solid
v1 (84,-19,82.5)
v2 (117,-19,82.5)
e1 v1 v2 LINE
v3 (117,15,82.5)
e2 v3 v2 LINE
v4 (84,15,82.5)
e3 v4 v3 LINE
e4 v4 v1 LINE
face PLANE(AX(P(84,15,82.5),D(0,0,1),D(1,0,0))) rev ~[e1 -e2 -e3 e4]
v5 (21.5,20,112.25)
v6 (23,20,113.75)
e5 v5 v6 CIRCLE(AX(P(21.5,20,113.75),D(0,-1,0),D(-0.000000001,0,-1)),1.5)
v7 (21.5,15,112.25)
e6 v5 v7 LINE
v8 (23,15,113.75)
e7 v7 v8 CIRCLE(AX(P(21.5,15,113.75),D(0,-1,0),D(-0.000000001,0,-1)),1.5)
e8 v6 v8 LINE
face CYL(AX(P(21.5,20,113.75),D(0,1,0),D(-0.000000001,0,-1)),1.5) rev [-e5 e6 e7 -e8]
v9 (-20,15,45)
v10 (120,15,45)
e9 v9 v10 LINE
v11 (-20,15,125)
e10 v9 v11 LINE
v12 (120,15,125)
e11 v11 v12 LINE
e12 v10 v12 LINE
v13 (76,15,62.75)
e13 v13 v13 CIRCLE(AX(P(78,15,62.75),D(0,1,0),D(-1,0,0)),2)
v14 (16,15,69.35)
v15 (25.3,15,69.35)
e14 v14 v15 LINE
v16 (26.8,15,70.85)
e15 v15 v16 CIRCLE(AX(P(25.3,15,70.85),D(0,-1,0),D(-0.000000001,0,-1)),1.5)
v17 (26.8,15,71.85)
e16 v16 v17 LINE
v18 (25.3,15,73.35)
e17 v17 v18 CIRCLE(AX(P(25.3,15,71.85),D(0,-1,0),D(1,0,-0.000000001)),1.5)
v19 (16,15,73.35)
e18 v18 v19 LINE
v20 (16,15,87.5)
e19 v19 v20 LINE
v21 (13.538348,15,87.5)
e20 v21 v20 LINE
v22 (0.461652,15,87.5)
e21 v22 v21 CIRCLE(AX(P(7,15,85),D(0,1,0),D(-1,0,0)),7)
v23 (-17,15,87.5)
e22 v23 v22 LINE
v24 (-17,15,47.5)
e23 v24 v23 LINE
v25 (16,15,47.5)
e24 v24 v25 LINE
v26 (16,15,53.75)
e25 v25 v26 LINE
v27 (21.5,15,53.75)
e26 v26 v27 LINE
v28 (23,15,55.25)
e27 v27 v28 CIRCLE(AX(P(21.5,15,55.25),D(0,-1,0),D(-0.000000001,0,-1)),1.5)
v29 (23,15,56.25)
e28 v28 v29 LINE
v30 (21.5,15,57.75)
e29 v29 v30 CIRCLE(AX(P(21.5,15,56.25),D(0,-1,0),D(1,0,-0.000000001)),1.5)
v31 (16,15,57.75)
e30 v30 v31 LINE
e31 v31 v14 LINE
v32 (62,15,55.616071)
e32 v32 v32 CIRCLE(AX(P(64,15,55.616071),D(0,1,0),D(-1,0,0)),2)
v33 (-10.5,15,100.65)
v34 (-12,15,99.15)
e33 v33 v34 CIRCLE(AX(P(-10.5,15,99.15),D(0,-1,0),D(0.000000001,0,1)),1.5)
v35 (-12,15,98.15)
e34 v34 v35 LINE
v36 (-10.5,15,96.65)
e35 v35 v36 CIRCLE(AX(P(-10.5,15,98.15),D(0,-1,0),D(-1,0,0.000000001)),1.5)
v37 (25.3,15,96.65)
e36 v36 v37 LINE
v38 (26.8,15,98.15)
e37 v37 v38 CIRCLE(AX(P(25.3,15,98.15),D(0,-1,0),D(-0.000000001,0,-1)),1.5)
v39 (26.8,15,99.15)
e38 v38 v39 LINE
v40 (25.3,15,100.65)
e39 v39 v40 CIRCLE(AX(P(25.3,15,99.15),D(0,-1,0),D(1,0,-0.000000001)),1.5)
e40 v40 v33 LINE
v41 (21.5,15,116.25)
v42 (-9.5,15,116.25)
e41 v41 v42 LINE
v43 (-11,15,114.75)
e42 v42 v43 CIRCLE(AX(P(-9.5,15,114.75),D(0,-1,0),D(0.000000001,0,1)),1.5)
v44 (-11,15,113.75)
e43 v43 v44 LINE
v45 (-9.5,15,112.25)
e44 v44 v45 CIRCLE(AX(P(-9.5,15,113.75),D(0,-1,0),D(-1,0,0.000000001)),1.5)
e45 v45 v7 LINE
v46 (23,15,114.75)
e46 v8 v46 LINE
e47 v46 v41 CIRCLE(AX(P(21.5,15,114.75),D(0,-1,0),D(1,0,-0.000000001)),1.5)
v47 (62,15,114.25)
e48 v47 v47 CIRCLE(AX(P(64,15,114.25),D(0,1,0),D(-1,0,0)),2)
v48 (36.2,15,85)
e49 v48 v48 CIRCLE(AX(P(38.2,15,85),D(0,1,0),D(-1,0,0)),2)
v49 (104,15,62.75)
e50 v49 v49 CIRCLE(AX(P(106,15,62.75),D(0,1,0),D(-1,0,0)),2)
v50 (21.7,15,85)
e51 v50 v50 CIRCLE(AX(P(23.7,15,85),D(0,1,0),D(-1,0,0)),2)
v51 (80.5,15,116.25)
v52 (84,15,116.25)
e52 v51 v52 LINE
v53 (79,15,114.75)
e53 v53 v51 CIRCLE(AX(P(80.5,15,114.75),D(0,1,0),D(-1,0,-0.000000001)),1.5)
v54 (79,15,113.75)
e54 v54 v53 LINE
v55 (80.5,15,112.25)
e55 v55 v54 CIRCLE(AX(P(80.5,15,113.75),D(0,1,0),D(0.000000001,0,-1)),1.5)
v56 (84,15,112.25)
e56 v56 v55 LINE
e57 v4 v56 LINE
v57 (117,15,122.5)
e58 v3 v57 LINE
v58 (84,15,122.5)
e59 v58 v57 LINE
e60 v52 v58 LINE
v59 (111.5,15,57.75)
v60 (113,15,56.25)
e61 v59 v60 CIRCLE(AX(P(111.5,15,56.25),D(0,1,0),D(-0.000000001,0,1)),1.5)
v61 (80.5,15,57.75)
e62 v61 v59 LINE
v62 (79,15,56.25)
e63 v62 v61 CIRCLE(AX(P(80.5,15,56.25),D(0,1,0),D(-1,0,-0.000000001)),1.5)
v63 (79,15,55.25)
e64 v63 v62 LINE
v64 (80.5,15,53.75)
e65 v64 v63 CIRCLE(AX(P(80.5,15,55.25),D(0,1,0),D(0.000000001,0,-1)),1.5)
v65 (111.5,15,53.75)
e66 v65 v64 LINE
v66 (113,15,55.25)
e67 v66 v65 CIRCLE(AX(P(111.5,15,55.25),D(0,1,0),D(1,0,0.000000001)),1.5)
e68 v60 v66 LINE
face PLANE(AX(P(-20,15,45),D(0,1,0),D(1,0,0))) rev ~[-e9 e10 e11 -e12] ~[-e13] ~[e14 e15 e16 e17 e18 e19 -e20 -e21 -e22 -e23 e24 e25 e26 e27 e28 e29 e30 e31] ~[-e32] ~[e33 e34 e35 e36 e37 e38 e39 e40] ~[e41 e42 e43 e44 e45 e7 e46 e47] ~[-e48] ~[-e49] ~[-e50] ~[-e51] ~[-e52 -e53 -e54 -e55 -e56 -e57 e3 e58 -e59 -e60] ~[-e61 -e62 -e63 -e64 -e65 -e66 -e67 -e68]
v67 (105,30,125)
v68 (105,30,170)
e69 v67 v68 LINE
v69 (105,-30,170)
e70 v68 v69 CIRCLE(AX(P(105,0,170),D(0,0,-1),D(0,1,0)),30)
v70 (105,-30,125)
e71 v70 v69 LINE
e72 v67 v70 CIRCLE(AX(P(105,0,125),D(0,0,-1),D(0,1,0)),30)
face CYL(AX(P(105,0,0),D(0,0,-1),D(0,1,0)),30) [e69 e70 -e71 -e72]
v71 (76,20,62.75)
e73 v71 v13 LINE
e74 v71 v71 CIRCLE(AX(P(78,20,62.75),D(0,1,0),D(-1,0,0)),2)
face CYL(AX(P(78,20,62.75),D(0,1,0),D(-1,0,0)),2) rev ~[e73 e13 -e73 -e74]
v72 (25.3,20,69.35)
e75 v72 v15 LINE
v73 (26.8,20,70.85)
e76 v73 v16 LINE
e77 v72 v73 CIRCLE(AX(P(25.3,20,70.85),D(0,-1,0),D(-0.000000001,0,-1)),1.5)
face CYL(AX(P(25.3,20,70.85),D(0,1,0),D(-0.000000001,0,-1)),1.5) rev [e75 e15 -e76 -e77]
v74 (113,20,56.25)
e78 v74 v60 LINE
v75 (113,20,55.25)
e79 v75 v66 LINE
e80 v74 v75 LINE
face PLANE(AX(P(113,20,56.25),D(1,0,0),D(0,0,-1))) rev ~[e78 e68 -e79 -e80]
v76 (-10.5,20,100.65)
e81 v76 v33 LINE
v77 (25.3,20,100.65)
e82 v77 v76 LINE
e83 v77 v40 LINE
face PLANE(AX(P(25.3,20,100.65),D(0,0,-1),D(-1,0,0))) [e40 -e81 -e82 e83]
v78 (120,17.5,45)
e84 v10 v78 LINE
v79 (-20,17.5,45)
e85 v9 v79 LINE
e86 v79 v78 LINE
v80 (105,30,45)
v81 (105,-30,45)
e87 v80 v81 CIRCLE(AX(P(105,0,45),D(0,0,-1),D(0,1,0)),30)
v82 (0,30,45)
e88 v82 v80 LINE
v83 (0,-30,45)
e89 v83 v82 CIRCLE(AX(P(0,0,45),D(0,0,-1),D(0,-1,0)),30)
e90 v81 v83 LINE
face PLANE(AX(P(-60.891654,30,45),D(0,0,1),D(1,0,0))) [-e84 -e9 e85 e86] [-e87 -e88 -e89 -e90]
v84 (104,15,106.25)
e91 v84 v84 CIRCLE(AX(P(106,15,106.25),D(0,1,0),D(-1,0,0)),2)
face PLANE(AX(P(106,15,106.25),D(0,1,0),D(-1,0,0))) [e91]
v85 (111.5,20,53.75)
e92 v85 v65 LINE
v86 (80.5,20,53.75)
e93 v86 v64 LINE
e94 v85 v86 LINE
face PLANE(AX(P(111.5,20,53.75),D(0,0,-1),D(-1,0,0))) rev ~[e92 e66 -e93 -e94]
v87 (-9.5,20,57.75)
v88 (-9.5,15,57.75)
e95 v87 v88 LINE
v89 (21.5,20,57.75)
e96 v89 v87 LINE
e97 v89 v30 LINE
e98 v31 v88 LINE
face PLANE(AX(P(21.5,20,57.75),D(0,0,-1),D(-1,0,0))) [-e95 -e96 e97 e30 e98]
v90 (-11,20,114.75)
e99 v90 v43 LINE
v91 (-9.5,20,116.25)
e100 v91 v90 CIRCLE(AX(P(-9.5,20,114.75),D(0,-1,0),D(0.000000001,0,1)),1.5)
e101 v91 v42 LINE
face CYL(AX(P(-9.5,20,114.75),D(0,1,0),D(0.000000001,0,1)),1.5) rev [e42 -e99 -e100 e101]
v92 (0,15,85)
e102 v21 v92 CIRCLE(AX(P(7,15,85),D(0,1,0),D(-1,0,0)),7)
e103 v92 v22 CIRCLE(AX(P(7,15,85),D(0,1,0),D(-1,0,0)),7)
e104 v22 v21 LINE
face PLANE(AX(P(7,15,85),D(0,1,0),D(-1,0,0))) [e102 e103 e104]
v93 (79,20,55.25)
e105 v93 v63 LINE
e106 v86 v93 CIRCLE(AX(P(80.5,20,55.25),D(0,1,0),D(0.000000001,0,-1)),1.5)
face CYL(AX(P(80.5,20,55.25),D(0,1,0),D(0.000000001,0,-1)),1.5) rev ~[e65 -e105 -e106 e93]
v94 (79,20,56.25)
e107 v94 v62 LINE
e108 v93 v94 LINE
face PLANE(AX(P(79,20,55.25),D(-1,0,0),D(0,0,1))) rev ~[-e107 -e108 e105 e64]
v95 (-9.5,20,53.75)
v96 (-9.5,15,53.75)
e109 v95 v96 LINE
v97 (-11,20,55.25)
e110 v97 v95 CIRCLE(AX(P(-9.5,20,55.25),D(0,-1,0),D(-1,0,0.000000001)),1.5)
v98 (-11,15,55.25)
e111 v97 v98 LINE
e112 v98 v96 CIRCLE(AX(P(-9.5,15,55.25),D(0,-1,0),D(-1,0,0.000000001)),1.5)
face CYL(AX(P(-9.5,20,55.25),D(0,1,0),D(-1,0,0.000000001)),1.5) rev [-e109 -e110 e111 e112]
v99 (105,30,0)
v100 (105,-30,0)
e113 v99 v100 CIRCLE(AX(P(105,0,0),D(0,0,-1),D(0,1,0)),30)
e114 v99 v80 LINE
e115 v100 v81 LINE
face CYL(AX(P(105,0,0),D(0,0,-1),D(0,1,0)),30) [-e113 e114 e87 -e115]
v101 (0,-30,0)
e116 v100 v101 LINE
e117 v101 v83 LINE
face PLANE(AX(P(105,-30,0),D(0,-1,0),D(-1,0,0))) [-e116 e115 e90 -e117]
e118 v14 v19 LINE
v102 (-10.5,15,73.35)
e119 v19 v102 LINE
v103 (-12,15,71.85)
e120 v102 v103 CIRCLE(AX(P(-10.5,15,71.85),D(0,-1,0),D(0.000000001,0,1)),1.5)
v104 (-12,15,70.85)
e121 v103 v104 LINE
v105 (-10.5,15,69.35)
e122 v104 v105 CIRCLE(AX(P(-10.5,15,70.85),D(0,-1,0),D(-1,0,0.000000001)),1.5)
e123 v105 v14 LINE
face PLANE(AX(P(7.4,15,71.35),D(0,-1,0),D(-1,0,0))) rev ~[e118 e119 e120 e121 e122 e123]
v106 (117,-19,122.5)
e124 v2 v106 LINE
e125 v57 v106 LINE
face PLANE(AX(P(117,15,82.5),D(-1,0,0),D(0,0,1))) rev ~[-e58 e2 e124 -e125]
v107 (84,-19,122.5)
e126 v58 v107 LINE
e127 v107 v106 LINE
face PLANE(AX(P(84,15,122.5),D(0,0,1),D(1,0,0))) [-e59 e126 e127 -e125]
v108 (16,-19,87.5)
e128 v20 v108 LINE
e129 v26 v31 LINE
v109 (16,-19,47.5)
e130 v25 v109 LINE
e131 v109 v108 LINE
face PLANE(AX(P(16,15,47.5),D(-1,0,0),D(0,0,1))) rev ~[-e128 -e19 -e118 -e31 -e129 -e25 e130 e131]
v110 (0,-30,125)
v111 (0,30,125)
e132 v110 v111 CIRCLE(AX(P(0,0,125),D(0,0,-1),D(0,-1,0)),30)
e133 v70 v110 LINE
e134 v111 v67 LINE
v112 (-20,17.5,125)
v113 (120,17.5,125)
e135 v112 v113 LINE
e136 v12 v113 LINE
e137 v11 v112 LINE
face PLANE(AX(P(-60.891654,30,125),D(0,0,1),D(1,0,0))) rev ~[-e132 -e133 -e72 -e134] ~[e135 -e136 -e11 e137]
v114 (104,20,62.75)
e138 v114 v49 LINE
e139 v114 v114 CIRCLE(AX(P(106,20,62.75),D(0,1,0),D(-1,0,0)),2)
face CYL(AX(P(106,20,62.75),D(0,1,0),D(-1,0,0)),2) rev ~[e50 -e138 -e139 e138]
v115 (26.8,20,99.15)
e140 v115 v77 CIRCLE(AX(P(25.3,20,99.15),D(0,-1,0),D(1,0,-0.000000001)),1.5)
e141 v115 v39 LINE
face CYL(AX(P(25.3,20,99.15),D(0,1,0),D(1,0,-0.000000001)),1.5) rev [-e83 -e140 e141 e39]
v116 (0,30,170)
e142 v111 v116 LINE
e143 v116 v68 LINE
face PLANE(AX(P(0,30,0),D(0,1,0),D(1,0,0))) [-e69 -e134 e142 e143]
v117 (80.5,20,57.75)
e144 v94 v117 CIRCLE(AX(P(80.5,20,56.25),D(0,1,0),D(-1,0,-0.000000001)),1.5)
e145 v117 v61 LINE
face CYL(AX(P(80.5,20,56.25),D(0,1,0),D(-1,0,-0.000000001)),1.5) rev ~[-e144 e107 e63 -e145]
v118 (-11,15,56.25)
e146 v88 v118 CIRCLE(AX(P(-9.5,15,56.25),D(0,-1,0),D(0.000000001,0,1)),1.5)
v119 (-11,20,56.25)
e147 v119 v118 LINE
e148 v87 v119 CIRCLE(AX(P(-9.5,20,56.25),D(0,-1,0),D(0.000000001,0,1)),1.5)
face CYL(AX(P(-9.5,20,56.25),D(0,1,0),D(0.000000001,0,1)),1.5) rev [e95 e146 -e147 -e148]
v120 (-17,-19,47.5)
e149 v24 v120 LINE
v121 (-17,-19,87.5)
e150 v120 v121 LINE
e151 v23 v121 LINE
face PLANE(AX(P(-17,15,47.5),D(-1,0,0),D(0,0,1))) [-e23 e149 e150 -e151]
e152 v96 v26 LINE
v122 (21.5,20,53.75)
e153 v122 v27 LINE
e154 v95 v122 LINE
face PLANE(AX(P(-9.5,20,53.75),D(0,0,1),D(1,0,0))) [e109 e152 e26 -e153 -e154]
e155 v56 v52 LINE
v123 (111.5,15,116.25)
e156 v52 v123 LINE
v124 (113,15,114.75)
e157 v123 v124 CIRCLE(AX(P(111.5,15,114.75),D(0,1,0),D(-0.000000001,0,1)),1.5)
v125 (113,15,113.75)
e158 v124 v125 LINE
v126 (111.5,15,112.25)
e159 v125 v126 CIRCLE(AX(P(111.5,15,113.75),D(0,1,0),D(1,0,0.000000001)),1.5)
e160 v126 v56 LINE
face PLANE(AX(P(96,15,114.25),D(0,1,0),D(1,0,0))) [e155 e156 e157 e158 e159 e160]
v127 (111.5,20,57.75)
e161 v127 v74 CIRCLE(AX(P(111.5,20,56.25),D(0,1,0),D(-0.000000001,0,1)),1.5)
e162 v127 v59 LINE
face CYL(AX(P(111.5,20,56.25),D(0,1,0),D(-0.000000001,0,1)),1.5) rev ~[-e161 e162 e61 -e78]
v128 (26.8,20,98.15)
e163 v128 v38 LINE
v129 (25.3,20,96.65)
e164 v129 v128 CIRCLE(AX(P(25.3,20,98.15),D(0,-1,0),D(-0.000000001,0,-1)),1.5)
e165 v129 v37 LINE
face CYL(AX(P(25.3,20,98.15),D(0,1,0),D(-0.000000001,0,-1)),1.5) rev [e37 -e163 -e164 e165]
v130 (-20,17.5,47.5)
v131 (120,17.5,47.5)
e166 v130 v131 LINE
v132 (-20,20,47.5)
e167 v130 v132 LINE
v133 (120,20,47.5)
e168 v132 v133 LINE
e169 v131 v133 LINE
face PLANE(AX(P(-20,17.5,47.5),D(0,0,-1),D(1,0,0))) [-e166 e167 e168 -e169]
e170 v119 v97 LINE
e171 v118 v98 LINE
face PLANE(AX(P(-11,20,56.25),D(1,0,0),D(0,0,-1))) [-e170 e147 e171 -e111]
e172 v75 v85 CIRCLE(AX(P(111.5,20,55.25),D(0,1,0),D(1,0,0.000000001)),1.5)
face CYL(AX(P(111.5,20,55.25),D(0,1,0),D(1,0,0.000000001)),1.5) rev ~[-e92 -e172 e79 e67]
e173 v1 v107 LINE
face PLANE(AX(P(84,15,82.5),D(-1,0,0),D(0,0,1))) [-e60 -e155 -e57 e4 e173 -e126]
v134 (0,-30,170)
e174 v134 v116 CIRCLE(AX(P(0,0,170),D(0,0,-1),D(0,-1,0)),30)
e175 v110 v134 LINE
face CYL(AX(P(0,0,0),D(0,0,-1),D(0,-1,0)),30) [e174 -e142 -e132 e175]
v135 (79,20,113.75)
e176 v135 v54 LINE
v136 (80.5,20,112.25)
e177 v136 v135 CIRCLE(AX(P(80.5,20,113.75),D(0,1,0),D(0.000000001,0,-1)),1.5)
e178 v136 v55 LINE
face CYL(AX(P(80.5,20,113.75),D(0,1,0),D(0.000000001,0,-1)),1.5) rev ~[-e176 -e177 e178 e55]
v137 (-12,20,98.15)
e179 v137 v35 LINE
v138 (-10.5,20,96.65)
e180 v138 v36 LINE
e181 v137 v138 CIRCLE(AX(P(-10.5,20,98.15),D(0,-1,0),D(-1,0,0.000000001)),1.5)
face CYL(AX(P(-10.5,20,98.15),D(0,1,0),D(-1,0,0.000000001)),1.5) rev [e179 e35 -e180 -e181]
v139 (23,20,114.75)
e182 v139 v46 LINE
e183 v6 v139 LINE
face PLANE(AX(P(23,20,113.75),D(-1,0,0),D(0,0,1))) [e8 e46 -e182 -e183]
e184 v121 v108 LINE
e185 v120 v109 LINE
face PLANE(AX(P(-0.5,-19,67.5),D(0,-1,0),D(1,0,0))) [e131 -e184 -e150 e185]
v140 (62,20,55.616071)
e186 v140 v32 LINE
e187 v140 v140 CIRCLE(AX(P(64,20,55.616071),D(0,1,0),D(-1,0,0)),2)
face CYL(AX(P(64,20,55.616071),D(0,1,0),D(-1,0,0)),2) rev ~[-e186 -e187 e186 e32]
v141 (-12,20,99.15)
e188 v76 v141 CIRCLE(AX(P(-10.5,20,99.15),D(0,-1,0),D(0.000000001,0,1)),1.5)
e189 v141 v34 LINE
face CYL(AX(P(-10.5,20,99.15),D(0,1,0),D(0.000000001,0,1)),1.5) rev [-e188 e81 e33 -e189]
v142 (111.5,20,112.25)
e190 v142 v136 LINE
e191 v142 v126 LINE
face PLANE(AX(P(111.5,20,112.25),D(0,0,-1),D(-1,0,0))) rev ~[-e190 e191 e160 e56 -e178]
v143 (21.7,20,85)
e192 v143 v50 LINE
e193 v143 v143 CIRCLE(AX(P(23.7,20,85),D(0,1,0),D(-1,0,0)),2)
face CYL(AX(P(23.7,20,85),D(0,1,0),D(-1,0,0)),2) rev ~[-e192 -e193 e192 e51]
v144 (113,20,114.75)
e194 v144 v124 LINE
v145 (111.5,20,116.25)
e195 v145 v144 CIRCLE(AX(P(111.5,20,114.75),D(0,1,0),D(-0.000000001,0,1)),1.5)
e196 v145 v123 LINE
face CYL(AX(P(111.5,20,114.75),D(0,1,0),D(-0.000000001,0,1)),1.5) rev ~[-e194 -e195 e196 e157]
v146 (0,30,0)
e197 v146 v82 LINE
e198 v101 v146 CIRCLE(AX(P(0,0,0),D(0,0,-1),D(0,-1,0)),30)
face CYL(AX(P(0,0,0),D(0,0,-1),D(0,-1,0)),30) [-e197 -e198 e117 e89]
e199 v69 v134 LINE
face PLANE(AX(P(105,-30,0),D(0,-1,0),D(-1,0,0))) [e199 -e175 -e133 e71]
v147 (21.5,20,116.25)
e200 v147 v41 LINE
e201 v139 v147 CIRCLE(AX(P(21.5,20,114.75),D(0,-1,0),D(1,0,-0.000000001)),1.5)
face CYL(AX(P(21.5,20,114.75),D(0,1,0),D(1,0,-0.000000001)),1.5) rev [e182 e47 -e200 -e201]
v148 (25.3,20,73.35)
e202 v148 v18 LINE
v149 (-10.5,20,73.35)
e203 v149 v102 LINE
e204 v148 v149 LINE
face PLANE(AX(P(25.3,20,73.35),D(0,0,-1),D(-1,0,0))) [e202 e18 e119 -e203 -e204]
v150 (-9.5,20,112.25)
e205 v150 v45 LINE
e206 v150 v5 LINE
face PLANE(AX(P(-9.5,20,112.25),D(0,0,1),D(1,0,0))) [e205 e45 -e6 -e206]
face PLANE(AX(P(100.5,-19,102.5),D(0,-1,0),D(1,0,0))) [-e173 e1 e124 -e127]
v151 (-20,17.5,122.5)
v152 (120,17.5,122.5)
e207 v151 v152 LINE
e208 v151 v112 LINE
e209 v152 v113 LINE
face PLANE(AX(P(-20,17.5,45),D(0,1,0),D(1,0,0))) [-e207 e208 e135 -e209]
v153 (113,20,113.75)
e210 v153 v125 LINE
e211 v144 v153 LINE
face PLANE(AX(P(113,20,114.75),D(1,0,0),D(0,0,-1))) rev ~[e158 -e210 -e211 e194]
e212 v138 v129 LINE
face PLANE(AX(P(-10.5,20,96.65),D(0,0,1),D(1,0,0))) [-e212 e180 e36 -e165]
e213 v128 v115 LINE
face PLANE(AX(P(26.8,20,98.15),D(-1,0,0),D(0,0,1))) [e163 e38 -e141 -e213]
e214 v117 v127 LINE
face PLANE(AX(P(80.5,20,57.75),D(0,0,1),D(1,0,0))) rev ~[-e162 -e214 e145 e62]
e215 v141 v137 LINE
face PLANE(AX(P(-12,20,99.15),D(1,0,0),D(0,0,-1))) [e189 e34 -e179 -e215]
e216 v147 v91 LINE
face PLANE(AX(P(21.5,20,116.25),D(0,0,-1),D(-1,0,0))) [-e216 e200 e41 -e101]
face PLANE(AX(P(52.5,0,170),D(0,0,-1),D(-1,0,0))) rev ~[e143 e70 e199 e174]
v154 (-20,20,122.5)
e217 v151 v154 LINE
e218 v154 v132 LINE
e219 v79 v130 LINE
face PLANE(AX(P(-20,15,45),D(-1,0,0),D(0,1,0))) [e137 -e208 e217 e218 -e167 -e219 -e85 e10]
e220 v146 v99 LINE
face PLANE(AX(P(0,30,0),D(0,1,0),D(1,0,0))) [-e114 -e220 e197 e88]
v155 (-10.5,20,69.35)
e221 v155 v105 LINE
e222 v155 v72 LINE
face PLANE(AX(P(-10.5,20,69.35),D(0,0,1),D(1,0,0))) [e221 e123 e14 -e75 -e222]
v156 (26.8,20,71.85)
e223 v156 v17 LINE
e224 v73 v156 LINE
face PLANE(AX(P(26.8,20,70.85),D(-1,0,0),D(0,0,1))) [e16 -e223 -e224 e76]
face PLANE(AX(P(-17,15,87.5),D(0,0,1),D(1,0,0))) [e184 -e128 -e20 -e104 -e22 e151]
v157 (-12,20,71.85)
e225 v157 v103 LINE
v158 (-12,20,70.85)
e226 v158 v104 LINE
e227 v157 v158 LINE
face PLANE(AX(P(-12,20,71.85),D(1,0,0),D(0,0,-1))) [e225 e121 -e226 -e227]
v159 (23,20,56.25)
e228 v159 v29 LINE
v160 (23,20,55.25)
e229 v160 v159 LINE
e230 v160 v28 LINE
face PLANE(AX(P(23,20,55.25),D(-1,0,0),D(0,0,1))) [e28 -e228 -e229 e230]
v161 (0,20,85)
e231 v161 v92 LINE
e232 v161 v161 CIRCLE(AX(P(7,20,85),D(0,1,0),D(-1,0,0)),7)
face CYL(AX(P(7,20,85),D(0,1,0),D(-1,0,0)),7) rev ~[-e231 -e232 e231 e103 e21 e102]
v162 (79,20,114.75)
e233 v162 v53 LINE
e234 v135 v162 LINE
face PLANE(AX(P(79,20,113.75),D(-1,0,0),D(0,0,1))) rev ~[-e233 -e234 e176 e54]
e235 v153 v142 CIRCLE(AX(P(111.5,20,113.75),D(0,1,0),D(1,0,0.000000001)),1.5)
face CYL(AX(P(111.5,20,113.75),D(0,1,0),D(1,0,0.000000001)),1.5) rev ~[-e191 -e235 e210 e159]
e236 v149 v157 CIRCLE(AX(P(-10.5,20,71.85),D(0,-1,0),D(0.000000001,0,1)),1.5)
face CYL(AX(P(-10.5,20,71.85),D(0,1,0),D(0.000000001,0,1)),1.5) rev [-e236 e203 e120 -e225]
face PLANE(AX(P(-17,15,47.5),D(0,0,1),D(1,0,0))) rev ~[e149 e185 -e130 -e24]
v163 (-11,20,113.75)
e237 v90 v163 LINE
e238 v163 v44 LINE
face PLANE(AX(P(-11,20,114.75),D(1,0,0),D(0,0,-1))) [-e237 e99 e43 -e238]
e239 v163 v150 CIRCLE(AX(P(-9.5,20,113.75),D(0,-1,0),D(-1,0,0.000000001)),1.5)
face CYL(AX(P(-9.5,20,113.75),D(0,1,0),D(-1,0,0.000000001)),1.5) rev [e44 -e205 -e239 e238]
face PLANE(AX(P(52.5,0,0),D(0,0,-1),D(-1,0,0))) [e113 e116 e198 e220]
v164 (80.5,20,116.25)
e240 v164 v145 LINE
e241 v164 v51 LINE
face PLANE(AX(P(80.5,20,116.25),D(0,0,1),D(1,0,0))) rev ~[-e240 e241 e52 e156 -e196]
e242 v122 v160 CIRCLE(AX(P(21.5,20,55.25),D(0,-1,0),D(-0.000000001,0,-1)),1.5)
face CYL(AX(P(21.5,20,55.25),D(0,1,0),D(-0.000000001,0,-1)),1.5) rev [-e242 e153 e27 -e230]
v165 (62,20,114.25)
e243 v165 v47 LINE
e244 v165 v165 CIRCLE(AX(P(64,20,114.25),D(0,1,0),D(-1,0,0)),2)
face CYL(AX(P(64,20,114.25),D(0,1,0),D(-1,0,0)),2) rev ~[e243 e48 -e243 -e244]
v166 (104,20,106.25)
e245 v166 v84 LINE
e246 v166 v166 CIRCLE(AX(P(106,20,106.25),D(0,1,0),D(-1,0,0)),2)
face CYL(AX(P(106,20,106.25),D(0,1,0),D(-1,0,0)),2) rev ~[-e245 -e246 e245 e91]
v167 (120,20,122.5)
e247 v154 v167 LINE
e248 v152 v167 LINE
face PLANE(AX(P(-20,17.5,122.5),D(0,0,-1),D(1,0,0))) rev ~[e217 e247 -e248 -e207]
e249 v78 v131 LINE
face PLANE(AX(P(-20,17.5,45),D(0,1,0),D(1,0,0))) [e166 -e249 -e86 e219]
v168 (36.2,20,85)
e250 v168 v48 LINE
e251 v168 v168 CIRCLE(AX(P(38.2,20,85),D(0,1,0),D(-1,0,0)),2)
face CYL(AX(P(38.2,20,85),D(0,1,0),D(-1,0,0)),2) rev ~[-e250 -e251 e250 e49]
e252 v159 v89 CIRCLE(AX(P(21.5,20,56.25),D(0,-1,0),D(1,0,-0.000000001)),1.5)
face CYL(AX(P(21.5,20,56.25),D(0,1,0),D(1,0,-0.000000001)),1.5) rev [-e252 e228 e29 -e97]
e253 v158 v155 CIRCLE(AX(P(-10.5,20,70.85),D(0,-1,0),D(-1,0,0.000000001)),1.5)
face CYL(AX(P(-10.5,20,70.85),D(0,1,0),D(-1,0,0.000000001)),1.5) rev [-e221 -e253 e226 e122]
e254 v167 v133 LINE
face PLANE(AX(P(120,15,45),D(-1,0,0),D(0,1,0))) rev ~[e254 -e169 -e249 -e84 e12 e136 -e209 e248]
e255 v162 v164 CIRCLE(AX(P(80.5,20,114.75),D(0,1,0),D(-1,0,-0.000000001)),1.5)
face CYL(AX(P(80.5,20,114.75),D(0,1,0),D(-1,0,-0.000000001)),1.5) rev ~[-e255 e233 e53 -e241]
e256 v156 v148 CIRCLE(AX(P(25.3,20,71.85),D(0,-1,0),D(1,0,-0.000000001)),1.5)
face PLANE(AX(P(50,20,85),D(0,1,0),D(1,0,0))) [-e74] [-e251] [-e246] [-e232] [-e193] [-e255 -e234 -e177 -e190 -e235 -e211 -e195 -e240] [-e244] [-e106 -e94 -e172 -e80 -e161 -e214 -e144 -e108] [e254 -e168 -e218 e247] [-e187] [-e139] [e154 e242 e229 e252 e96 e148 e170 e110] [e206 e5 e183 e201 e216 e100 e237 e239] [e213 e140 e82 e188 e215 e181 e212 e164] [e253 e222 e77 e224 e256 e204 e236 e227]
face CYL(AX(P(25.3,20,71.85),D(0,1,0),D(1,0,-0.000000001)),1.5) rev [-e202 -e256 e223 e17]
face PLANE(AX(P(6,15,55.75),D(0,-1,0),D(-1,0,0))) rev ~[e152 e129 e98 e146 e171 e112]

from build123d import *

# Parameters (mm, degrees)
BOSS_EXTRU_1_DEPTH      = 170
ESQUISSE2_W             = 206.92447976
ESQUISSE2_H             = 80
ENL_V_MAT_EXTRU_1_DEPTH = 170
ESQUISSE3_W             = 140
ESQUISSE3_H             = 2.5
BOSS_EXTRU_2_DEPTH      = 80
ESQUISSE4_W             = 140
ESQUISSE4_H             = 75
BOSS_EXTRU_4_DEPTH      = 2.5
ESQUISSE5_W             = 33
ESQUISSE5_H             = 40
BOSS_EXTRU_5_DEPTH      = 34
ESQUISSE6_R             = 7
ESQUISSE6_R_2           = 2
ENL_V_MAT_EXTRU_2_DEPTH = 5


with BuildPart() as part:
    # Esquisse1 → Boss.-Extru.1 (new body)
    with BuildSketch(Plane.XY):
        with BuildLine():
            Line((0, 30), (105, 30))
            ThreePointArc((105, 30), (135, 0), (105, -30))
            Line((105, -30), (0, -30))
            ThreePointArc((0, -30), (-30, 0), (0, 30))
        make_face()
    extrude(amount=BOSS_EXTRU_1_DEPTH)

    # Esquisse2 → Enlèv. mat.-Extru.1 (cut)
    with BuildSketch(Plane(origin=(0, 30, 0), x_dir=(1, 0, 0), z_dir=(0, 1, 0))):
        with Locations((42.57058543, -85)):
            Rectangle(ESQUISSE2_W, ESQUISSE2_H)
    extrude(amount=-ENL_V_MAT_EXTRU_1_DEPTH, mode=Mode.SUBTRACT)


with BuildPart() as enl_v_mat_extru_1_piece_1:
    # of the separate pieces the step leaves, piece 1, a body of its own (enl_v_mat_extru_1_pieces)
    add(part.part.solids().sort_by_distance((105, -30, 0))[0])



with BuildPart() as enl_v_mat_extru_1_piece_2:
    # of the separate pieces the step leaves, piece 2, a body of its own (enl_v_mat_extru_1_pieces)
    add(part.part.solids().sort_by_distance((0, -30, 125))[0])


with BuildPart() as enl_v_mat_extru_1_piece_1_1:
    add(enl_v_mat_extru_1_piece_1.part)

    add(enl_v_mat_extru_1_piece_2.part)  # Boss.-Extru.2 merges Enlèv. mat.-Extru.1 piece 2
    # Esquisse3 → Boss.-Extru.2 (add)
    with BuildSketch(Plane.XY.offset(45)):
        with Locations((50, 16.25)):
            Rectangle(ESQUISSE3_W, ESQUISSE3_H)
    extrude(amount=BOSS_EXTRU_2_DEPTH)

    # Esquisse4 → Boss.-Extru.4 (add)
    with BuildSketch(Plane(origin=(0, 17.5, 0), x_dir=(1, 0, 0), z_dir=(0, 1, 0))):
        with Locations((50, -85)):
            Rectangle(ESQUISSE4_W, ESQUISSE4_H)
    extrude(amount=BOSS_EXTRU_4_DEPTH)

    # Esquisse5 → Boss.-Extru.5 (add)
    with BuildSketch(Plane.XZ.offset(-15)):
        with Locations((-0.5, 67.5)):
            Rectangle(ESQUISSE5_W, ESQUISSE5_H)
        with Locations((100.5, 102.5)):
            Rectangle(ESQUISSE5_W, ESQUISSE5_H)
    extrude(amount=BOSS_EXTRU_5_DEPTH)

    # Esquisse6 → Enlèv. mat.-Extru.2 (cut)
    with BuildSketch(Plane(origin=(0, 20, 0), x_dir=(1, 0, 0), z_dir=(0, 1, 0))):
        with Locations(Location((7, -85, 0), (0, 0, 180))):
            Circle(ESQUISSE6_R)
        with Locations(Location((23.7, -85, 0), (0, 0, 180))):
            Circle(ESQUISSE6_R_2)
        with Locations(Location((38.2, -85, 0), (0, 0, 180))):
            Circle(ESQUISSE6_R_2)
        with Locations(Location((64, -114.25, 0), (0, 0, 180))):
            Circle(ESQUISSE6_R_2)
        with Locations(Location((64, -55.616071429, 0), (0, 0, 180))):
            Circle(ESQUISSE6_R_2)
        with Locations(Location((78, -62.75, 0), (0, 0, 180))):
            Circle(ESQUISSE6_R_2)
        with Locations(Location((106, -62.75, 0), (0, 0, 180))):
            Circle(ESQUISSE6_R_2)
        with Locations(Location((106, -106.25, 0), (0, 0, 180))):
            Circle(ESQUISSE6_R_2)
        with BuildLine():
            Line((-9.5, -53.75), (21.5, -53.75))
            ThreePointArc((21.5, -53.75), (22.560660172, -54.189339828), (23, -55.25))
            Line((23, -55.25), (23, -56.25))
            ThreePointArc((23, -56.25), (22.560660172, -57.310660172), (21.5, -57.75))
            Line((21.5, -57.75), (-9.5, -57.75))
            ThreePointArc((-9.5, -57.75), (-10.560660172, -57.310660172), (-11, -56.25))
            Line((-11, -56.25), (-11, -55.25))
            ThreePointArc((-11, -55.25), (-10.560660172, -54.189339828), (-9.5, -53.75))
        make_face()
        with BuildLine():
            Line((-10.5, -69.35), (25.3, -69.35))
            ThreePointArc((25.3, -69.35), (26.360660172, -69.789339828), (26.8, -70.85))
            Line((26.8, -70.85), (26.8, -71.85))
            ThreePointArc((26.8, -71.85), (26.360660172, -72.910660172), (25.3, -73.35))
            Line((25.3, -73.35), (-10.5, -73.35))
            ThreePointArc((-10.5, -73.35), (-11.560660172, -72.910660172), (-12, -71.85))
            Line((-12, -71.85), (-12, -70.85))
            ThreePointArc((-12, -70.85), (-11.560660172, -69.789339828), (-10.5, -69.35))
        make_face()
        with BuildLine():
            Line((-10.5, -96.65), (25.3, -96.65))
            ThreePointArc((25.3, -96.65), (26.360660172, -97.089339828), (26.8, -98.15))
            Line((26.8, -98.15), (26.8, -99.15))
            ThreePointArc((26.8, -99.15), (26.360660172, -100.210660172), (25.3, -100.65))
            Line((25.3, -100.65), (-10.5, -100.65))
            ThreePointArc((-10.5, -100.65), (-11.560660172, -100.210660172), (-12, -99.15))
            Line((-12, -99.15), (-12, -98.15))
            ThreePointArc((-12, -98.15), (-11.560660172, -97.089339828), (-10.5, -96.65))
        make_face()
        with BuildLine():
            Line((-9.5, -112.25), (21.5, -112.25))
            ThreePointArc((21.5, -112.25), (22.560660172, -112.689339828), (23, -113.75))
            Line((23, -113.75), (23, -114.75))
            ThreePointArc((23, -114.75), (22.560660172, -115.810660172), (21.5, -116.25))
            Line((21.5, -116.25), (-9.5, -116.25))
            ThreePointArc((-9.5, -116.25), (-10.560660172, -115.810660172), (-11, -114.75))
            Line((-11, -114.75), (-11, -113.75))
            ThreePointArc((-11, -113.75), (-10.560660172, -112.689339828), (-9.5, -112.25))
        make_face()
        with BuildLine():
            Line((111.5, -53.75), (80.5, -53.75))
            ThreePointArc((80.5, -53.75), (79.439339828, -54.189339828), (79, -55.25))
            Line((79, -55.25), (79, -56.25))
            ThreePointArc((79, -56.25), (79.439339828, -57.310660172), (80.5, -57.75))
            Line((80.5, -57.75), (111.5, -57.75))
            ThreePointArc((111.5, -57.75), (112.560660172, -57.310660172), (113, -56.25))
            Line((113, -56.25), (113, -55.25))
            ThreePointArc((113, -55.25), (112.560660172, -54.189339828), (111.5, -53.75))
        make_face()
        with BuildLine():
            Line((80.5, -116.25), (111.5, -116.25))
            ThreePointArc((111.5, -116.25), (112.560660172, -115.810660172), (113, -114.75))
            Line((113, -114.75), (113, -113.75))
            ThreePointArc((113, -113.75), (112.560660172, -112.689339828), (111.5, -112.25))
            Line((111.5, -112.25), (80.5, -112.25))
            ThreePointArc((80.5, -112.25), (79.439339828, -112.689339828), (79, -113.75))
            Line((79, -113.75), (79, -114.75))
            ThreePointArc((79, -114.75), (79.439339828, -115.810660172), (80.5, -116.25))
        make_face()
    extrude(amount=-ENL_V_MAT_EXTRU_2_DEPTH, mode=Mode.SUBTRACT)


solid = enl_v_mat_extru_1_piece_1_1.part
